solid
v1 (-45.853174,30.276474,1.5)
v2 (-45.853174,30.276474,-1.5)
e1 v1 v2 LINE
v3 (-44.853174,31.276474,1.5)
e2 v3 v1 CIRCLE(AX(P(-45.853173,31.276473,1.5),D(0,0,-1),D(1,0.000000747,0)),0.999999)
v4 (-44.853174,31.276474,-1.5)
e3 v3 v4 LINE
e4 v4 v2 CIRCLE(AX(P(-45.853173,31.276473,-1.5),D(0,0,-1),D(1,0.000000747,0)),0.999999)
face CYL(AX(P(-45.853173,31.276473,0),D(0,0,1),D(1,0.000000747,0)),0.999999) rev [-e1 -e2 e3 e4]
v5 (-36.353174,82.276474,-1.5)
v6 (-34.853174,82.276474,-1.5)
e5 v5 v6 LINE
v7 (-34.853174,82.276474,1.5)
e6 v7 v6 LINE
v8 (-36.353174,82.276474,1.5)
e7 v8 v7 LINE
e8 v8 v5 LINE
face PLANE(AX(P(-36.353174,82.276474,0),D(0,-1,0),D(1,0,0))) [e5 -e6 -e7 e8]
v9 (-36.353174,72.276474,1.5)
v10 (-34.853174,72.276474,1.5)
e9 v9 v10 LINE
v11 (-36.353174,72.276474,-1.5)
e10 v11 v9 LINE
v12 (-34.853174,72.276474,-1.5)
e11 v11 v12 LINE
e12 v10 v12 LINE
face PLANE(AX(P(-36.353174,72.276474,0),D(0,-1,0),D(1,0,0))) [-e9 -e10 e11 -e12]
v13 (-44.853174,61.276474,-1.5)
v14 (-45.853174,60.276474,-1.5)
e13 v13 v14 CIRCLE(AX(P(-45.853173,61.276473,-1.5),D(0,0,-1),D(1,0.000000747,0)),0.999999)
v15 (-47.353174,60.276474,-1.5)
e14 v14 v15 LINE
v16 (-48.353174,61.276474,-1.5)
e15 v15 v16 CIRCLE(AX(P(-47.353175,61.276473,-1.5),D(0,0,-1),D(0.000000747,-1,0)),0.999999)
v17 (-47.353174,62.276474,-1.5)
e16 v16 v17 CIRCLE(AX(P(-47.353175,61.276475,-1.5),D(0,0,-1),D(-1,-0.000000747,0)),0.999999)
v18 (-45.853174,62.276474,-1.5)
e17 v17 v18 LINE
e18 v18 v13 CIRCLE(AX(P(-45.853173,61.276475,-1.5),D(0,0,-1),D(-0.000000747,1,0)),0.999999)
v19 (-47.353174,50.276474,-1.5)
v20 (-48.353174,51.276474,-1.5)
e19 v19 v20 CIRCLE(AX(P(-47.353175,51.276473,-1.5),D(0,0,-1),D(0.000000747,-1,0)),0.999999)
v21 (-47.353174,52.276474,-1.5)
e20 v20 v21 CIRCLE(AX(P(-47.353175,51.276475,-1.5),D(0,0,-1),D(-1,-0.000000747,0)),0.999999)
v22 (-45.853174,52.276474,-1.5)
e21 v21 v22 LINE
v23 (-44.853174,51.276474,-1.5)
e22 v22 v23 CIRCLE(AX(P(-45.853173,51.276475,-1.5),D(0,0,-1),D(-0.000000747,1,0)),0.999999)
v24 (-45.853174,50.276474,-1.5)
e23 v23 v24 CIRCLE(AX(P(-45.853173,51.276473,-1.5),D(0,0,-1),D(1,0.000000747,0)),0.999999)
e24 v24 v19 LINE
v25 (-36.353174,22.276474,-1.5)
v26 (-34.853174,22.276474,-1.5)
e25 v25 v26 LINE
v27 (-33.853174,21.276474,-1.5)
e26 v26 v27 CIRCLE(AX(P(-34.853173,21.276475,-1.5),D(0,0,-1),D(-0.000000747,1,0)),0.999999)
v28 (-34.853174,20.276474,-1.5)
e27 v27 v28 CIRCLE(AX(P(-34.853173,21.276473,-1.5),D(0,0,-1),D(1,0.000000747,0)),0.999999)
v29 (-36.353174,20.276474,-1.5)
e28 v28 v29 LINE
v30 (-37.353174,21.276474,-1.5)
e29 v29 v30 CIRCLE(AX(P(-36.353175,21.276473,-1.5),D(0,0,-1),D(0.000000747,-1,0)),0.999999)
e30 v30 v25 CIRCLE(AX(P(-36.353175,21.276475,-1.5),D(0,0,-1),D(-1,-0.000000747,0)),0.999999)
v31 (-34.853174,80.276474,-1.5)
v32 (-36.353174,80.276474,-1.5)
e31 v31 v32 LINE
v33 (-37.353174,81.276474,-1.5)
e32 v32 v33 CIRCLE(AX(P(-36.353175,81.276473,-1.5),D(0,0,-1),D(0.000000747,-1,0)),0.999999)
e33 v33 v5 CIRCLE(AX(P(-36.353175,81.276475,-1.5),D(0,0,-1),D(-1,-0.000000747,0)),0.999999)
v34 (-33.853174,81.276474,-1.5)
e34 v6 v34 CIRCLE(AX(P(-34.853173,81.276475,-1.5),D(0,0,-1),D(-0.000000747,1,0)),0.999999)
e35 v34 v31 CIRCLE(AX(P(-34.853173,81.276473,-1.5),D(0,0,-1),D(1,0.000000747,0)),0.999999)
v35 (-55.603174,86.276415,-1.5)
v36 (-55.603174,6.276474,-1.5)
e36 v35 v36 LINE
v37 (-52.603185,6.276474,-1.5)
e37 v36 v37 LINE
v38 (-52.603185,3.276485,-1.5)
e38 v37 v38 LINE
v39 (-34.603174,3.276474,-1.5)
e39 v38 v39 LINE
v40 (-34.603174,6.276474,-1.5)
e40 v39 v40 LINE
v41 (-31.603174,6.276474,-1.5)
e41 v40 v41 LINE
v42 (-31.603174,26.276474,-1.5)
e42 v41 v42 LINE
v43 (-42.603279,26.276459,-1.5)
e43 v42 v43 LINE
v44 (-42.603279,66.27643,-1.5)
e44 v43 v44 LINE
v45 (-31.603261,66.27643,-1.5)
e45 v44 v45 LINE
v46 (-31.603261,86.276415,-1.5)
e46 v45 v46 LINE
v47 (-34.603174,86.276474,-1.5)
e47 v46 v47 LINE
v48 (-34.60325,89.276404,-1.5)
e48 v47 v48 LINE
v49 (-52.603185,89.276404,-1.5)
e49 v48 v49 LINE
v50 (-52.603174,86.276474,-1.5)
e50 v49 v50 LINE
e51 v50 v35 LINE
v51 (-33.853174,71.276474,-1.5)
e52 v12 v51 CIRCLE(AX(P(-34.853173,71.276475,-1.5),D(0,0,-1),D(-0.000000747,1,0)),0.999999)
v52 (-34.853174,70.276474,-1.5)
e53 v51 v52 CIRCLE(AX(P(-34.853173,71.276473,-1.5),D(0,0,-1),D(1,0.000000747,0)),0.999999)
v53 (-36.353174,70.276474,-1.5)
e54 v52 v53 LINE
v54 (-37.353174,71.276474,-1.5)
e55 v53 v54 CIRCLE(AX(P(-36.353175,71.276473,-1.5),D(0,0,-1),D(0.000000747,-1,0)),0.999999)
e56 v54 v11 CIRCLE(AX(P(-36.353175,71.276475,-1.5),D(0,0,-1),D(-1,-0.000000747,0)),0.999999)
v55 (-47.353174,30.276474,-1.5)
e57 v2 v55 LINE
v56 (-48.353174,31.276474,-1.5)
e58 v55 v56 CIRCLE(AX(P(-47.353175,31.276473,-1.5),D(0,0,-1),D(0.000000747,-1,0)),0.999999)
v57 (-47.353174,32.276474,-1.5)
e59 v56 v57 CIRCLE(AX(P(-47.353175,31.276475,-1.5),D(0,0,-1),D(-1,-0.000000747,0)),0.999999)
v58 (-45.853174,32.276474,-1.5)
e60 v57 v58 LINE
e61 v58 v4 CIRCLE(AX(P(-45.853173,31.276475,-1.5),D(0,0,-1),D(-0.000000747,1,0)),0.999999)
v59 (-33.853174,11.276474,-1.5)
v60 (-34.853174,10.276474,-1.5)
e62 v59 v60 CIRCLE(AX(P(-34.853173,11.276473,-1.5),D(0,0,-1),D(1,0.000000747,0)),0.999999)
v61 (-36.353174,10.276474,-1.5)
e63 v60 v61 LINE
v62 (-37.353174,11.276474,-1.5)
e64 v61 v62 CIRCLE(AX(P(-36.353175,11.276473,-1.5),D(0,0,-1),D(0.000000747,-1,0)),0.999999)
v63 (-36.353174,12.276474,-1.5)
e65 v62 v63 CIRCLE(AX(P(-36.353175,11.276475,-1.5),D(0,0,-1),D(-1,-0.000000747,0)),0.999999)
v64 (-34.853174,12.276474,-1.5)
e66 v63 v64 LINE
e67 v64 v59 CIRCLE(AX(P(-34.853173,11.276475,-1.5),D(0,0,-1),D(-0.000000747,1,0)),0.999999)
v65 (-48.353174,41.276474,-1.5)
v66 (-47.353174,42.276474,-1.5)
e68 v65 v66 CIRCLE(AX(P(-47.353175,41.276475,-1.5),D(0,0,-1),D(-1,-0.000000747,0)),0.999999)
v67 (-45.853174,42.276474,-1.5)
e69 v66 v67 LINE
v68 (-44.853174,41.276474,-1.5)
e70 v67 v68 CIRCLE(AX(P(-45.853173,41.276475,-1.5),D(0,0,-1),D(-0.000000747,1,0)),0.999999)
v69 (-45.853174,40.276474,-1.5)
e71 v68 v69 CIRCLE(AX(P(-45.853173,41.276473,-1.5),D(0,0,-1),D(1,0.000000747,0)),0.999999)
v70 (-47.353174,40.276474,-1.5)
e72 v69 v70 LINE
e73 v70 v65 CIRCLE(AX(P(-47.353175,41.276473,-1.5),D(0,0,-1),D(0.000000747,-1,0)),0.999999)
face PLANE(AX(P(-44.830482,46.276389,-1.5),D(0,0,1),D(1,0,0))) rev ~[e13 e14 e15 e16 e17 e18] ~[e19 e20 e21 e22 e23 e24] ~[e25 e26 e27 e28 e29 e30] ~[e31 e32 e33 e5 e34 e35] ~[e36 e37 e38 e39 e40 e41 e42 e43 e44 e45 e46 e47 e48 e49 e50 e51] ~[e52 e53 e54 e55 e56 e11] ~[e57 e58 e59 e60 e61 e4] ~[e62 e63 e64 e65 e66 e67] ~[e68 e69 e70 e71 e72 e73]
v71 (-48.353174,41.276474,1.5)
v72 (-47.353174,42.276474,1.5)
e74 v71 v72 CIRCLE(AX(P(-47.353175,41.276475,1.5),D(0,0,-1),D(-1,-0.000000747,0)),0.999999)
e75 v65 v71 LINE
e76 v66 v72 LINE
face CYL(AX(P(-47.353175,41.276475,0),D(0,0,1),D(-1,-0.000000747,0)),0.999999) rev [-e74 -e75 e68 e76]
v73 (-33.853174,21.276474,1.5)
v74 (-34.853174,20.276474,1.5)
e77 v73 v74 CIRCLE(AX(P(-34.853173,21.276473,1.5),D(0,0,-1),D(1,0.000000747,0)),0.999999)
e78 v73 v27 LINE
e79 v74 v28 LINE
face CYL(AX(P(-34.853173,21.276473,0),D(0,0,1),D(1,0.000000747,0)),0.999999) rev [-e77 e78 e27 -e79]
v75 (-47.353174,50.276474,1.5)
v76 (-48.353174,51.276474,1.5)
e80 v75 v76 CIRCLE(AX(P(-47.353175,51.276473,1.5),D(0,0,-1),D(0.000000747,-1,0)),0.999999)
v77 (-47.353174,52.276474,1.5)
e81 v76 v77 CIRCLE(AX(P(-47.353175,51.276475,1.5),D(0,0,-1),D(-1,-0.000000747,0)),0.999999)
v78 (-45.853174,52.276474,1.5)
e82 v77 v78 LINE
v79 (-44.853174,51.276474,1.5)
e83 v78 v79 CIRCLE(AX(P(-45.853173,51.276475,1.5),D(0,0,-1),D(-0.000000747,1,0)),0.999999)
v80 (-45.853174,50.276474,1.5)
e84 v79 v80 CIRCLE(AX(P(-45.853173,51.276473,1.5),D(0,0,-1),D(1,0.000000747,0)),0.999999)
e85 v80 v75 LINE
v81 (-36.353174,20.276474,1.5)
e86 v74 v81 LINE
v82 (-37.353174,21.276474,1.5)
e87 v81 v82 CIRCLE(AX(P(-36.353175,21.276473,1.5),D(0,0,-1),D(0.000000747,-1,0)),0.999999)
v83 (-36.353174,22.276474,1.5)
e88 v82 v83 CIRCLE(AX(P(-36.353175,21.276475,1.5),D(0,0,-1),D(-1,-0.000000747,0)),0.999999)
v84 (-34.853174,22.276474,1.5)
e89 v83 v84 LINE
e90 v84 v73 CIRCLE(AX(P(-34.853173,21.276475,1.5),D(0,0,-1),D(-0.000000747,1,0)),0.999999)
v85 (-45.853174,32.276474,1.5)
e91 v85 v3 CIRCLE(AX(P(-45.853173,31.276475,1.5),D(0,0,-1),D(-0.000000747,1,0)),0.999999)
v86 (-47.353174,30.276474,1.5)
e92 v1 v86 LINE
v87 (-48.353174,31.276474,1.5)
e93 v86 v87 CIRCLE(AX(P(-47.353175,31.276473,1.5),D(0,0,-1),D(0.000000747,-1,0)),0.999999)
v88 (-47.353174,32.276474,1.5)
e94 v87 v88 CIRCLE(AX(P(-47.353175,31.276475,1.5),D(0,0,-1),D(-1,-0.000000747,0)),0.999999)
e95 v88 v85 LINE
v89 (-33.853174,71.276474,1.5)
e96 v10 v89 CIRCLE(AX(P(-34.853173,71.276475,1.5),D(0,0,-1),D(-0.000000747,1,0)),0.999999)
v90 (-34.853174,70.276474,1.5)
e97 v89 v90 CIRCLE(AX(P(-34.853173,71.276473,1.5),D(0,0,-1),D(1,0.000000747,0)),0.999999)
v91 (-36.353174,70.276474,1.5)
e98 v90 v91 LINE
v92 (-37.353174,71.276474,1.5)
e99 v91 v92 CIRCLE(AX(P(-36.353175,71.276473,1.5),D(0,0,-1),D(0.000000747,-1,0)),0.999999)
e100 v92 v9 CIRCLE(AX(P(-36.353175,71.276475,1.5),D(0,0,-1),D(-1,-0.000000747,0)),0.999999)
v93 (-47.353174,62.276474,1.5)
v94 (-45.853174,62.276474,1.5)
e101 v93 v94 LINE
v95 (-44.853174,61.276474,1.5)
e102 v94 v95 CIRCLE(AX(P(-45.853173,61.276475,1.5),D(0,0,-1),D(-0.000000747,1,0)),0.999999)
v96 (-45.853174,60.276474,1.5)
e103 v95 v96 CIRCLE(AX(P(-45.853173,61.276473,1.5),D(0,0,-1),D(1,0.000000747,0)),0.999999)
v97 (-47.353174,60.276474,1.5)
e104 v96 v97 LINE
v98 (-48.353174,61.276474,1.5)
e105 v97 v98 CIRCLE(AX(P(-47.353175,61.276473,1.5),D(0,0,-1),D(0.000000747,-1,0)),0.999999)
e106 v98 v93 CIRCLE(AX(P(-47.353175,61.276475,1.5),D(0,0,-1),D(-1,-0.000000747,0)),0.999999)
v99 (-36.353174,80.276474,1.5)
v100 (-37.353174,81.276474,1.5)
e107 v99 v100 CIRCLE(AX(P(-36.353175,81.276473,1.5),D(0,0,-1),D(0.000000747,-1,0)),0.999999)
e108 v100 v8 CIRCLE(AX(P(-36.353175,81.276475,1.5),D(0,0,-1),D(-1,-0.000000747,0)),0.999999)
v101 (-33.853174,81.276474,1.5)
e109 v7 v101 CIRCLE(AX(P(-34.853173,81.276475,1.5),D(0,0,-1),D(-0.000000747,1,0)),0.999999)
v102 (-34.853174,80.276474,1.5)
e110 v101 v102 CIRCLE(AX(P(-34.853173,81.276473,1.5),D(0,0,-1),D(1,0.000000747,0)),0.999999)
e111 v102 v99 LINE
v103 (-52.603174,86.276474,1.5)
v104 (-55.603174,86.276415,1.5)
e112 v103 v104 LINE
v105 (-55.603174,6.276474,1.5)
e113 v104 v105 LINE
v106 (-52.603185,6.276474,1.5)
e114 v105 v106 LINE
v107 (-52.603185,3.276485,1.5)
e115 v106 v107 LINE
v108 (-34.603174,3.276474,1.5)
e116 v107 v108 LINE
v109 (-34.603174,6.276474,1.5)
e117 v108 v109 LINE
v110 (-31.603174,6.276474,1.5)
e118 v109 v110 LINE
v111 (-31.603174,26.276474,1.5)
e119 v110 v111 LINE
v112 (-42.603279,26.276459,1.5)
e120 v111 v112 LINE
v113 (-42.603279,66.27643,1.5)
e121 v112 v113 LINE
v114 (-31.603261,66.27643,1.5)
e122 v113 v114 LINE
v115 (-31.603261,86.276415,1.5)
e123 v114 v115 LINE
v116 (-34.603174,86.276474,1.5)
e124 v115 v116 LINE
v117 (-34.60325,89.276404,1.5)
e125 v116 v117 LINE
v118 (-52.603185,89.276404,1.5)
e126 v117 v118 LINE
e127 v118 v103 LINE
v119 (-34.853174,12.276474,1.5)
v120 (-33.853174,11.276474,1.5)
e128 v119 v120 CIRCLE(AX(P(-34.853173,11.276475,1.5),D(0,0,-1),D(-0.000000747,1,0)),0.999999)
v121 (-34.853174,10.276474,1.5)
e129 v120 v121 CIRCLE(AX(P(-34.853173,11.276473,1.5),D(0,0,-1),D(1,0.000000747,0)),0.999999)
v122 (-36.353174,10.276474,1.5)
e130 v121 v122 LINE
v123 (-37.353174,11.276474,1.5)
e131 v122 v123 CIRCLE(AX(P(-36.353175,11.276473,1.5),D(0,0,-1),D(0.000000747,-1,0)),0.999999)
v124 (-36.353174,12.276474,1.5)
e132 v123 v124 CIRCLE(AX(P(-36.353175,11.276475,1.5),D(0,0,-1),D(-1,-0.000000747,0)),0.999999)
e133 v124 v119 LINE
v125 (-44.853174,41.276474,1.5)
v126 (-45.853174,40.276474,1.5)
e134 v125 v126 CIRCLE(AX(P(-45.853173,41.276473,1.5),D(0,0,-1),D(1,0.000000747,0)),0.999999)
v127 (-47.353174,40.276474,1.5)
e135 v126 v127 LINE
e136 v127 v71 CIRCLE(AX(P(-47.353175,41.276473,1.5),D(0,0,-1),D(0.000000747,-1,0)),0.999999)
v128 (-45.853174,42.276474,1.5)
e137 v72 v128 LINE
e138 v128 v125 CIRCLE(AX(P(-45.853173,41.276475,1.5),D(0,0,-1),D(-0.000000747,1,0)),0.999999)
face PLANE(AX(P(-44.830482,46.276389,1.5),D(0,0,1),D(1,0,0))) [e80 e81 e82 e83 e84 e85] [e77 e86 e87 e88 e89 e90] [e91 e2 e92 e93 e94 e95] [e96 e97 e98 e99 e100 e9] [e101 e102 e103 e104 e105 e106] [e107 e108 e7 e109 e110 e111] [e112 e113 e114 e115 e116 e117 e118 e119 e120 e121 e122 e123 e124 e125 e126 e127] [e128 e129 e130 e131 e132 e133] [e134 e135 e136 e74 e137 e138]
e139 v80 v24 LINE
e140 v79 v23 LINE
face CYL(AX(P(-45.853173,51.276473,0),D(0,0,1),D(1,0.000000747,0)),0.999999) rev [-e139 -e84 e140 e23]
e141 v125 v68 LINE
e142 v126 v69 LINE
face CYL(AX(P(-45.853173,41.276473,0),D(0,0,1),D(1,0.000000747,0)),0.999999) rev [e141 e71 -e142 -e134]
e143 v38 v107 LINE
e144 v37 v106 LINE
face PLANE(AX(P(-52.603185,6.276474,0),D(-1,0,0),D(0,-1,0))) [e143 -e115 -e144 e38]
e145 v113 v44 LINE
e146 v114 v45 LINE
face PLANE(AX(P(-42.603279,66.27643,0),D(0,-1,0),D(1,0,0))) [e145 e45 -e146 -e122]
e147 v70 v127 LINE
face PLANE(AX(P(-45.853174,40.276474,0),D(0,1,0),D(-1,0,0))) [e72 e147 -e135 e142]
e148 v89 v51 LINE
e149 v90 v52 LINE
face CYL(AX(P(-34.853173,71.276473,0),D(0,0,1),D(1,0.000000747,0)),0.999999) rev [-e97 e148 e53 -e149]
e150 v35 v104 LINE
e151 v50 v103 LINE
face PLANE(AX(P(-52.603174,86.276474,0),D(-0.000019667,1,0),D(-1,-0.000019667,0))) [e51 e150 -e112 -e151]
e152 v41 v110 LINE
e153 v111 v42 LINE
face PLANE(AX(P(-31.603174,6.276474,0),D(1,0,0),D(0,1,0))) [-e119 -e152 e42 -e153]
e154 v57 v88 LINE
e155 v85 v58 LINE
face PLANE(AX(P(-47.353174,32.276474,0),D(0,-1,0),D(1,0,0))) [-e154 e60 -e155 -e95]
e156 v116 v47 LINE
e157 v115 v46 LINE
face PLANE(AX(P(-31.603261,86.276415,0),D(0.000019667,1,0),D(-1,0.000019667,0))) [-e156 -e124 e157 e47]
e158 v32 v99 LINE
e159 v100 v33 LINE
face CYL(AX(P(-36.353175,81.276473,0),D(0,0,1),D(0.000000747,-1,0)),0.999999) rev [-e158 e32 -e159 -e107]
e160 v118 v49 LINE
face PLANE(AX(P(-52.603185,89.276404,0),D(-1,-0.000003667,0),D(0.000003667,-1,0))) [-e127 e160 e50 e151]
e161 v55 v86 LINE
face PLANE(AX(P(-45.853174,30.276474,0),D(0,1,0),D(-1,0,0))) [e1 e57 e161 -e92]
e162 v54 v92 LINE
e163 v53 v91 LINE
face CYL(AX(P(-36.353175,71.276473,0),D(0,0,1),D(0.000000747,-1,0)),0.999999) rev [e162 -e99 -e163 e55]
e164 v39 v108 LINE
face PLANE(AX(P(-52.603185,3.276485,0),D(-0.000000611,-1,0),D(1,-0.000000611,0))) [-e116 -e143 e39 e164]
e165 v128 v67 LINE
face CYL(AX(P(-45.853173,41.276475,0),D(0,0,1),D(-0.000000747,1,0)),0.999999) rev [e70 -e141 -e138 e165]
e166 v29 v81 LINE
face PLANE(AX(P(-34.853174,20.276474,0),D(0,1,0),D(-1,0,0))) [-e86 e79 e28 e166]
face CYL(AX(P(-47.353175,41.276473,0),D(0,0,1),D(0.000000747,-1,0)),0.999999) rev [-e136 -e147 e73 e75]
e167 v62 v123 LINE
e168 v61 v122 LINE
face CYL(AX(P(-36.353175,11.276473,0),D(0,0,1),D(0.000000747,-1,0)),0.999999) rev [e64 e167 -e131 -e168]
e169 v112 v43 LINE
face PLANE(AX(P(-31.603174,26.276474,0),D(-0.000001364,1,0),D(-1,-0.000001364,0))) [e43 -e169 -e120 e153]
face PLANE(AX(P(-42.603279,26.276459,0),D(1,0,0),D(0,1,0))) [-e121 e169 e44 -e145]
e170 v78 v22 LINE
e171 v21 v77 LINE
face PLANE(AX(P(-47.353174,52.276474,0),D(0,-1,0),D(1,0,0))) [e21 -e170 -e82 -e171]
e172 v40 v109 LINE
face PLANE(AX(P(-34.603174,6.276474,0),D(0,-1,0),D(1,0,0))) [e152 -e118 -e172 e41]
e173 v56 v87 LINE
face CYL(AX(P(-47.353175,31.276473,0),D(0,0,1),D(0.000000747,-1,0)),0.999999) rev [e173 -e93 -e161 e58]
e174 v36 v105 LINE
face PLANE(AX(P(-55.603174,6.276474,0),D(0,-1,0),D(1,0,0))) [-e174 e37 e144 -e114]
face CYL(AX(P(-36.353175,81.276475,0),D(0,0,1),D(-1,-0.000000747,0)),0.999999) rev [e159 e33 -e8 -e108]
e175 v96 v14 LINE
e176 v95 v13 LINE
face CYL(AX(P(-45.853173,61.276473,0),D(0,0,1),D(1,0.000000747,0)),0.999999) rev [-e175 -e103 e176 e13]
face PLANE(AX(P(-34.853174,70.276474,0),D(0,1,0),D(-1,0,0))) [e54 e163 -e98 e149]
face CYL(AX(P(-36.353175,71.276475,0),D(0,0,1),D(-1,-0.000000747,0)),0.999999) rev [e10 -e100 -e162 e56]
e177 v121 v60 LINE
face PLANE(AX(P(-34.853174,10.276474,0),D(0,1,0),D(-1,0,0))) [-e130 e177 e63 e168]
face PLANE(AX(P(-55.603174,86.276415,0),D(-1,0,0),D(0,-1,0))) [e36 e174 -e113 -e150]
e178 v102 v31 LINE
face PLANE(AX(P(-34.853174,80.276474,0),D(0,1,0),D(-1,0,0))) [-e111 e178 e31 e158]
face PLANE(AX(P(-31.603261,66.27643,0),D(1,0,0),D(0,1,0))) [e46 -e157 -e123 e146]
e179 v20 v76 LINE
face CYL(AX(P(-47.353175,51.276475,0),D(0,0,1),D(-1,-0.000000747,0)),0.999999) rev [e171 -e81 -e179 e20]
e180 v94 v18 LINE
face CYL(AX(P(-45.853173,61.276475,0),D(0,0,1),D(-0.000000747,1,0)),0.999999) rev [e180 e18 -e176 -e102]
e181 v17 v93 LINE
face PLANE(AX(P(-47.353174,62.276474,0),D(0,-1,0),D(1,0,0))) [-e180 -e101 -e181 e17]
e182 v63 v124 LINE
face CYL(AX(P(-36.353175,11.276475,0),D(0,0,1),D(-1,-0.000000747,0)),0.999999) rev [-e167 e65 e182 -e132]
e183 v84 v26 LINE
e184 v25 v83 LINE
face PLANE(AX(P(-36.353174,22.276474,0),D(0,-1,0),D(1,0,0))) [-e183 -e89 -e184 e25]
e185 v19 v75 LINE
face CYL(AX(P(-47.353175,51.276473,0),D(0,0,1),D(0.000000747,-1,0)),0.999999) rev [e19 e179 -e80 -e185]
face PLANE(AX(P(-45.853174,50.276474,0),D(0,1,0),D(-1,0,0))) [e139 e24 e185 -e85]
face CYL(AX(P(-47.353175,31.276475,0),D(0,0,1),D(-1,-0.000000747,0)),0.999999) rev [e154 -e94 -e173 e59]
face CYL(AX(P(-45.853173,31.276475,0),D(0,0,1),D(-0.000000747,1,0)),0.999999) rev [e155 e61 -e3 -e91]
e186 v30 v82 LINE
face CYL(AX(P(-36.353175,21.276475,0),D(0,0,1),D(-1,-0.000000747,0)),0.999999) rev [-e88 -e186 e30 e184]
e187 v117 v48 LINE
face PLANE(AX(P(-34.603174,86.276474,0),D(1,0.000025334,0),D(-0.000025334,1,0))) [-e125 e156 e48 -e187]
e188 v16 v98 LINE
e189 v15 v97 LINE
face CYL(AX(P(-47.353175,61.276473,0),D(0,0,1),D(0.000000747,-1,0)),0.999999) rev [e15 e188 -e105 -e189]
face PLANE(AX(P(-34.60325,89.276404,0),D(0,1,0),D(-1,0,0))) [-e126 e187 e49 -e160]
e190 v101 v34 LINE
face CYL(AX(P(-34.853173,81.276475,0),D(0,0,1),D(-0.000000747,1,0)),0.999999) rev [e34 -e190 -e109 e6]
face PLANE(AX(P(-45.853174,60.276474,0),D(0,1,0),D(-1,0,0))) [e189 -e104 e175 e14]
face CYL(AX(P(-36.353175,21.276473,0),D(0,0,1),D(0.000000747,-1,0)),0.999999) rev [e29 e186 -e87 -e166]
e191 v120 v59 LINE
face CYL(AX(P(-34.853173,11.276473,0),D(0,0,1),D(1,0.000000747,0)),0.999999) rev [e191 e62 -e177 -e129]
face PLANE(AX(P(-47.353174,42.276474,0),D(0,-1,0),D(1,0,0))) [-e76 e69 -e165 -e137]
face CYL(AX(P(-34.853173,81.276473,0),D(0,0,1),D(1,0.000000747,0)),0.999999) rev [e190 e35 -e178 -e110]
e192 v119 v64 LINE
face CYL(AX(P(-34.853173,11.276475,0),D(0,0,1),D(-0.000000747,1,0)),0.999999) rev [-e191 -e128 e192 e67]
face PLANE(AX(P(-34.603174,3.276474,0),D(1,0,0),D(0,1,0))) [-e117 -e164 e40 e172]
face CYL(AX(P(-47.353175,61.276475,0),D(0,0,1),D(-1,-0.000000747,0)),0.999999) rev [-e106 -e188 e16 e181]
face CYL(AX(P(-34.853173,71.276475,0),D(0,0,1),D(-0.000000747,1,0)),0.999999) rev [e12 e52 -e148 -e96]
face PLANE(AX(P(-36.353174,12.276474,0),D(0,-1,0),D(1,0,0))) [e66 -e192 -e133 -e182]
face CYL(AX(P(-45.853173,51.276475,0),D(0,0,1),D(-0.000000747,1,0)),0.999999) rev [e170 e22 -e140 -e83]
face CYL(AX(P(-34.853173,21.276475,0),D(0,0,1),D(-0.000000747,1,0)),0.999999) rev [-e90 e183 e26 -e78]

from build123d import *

# Parameters (mm, degrees)
F1_DEPTH = 1.5


with BuildPart() as f1:
    # F0 (on Top) → F1 (new body, symmetric)
    with BuildSketch(Plane.XY):
        Polygon((-52.603185, 89.276404), (-52.603174, 86.276474), (-55.603174, 86.276415), (-55.603174, 6.276474), (-52.603185, 6.276474), (-52.603185, 3.276485), (-34.603174, 3.276474), (-34.603174, 6.276474), (-31.603174, 6.276474), (-31.603174, 26.276474), (-42.603279, 26.276459), (-42.603279, 66.27643), (-31.603261, 66.27643), (-31.603261, 86.276415), (-34.603174, 86.276474), (-34.60325, 89.276404), align=None)
        with BuildLine():
            ThreePointArc((-47.353174, 30.276474), (-48.060281, 30.569367), (-48.353174, 31.276474))
            ThreePointArc((-48.353174, 31.276474), (-48.060281, 31.983581), (-47.353174, 32.276474))
            Line((-47.353174, 32.276474), (-45.853174, 32.276474))
            ThreePointArc((-45.853174, 32.276474), (-45.146067, 31.983581), (-44.853174, 31.276474))
            ThreePointArc((-44.853174, 31.276474), (-45.146067, 30.569367), (-45.853174, 30.276474))
            Line((-45.853174, 30.276474), (-47.353174, 30.276474))
        make_face(mode=Mode.SUBTRACT)
        with BuildLine():
            ThreePointArc((-47.353174, 40.276474), (-48.060281, 40.569367), (-48.353174, 41.276474))
            ThreePointArc((-48.353174, 41.276474), (-48.060281, 41.983581), (-47.353174, 42.276474))
            Line((-47.353174, 42.276474), (-45.853174, 42.276474))
            ThreePointArc((-45.853174, 42.276474), (-45.146067, 41.983581), (-44.853174, 41.276474))
            ThreePointArc((-44.853174, 41.276474), (-45.146067, 40.569367), (-45.853174, 40.276474))
            Line((-45.853174, 40.276474), (-47.353174, 40.276474))
        make_face(mode=Mode.SUBTRACT)
        with BuildLine():
            ThreePointArc((-36.353174, 10.276474), (-37.060281, 10.569367), (-37.353174, 11.276474))
            ThreePointArc((-37.353174, 11.276474), (-37.060281, 11.983581), (-36.353174, 12.276474))
            Line((-36.353174, 12.276474), (-34.853174, 12.276474))
            ThreePointArc((-34.853174, 12.276474), (-34.146067, 11.983581), (-33.853174, 11.276474))
            ThreePointArc((-33.853174, 11.276474), (-34.146067, 10.569367), (-34.853174, 10.276474))
            Line((-34.853174, 10.276474), (-36.353174, 10.276474))
        make_face(mode=Mode.SUBTRACT)
        with BuildLine():
            ThreePointArc((-36.353174, 20.276474), (-37.060281, 20.569367), (-37.353174, 21.276474))
            ThreePointArc((-37.353174, 21.276474), (-37.060281, 21.983581), (-36.353174, 22.276474))
            Line((-36.353174, 22.276474), (-34.853174, 22.276474))
            ThreePointArc((-34.853174, 22.276474), (-34.146067, 21.983581), (-33.853174, 21.276474))
            ThreePointArc((-33.853174, 21.276474), (-34.146067, 20.569367), (-34.853174, 20.276474))
            Line((-34.853174, 20.276474), (-36.353174, 20.276474))
        make_face(mode=Mode.SUBTRACT)
        with BuildLine():
            ThreePointArc((-47.353174, 50.276474), (-48.060281, 50.569367), (-48.353174, 51.276474))
            ThreePointArc((-48.353174, 51.276474), (-48.060281, 51.983581), (-47.353174, 52.276474))
            Line((-47.353174, 52.276474), (-45.853174, 52.276474))
            ThreePointArc((-45.853174, 52.276474), (-45.146067, 51.983581), (-44.853174, 51.276474))
            ThreePointArc((-44.853174, 51.276474), (-45.146067, 50.569367), (-45.853174, 50.276474))
            Line((-45.853174, 50.276474), (-47.353174, 50.276474))
        make_face(mode=Mode.SUBTRACT)
        with BuildLine():
            ThreePointArc((-47.353174, 60.276474), (-48.060281, 60.569367), (-48.353174, 61.276474))
            ThreePointArc((-48.353174, 61.276474), (-48.060281, 61.983581), (-47.353174, 62.276474))
            Line((-47.353174, 62.276474), (-45.853174, 62.276474))
            ThreePointArc((-45.853174, 62.276474), (-45.146067, 61.983581), (-44.853174, 61.276474))
            ThreePointArc((-44.853174, 61.276474), (-45.146067, 60.569367), (-45.853174, 60.276474))
            Line((-45.853174, 60.276474), (-47.353174, 60.276474))
        make_face(mode=Mode.SUBTRACT)
        with BuildLine():
            ThreePointArc((-36.353174, 70.276474), (-37.060281, 70.569367), (-37.353174, 71.276474))
            ThreePointArc((-37.353174, 71.276474), (-37.060281, 71.983581), (-36.353174, 72.276474))
            Line((-36.353174, 72.276474), (-34.853174, 72.276474))
            ThreePointArc((-34.853174, 72.276474), (-34.146067, 71.983581), (-33.853174, 71.276474))
            ThreePointArc((-33.853174, 71.276474), (-34.146067, 70.569367), (-34.853174, 70.276474))
            Line((-34.853174, 70.276474), (-36.353174, 70.276474))
        make_face(mode=Mode.SUBTRACT)
        with BuildLine():
            ThreePointArc((-36.353174, 80.276474), (-37.060281, 80.569367), (-37.353174, 81.276474))
            ThreePointArc((-37.353174, 81.276474), (-37.060281, 81.983581), (-36.353174, 82.276474))
            Line((-36.353174, 82.276474), (-34.853174, 82.276474))
            ThreePointArc((-34.853174, 82.276474), (-34.146067, 81.983581), (-33.853174, 81.276474))
            ThreePointArc((-33.853174, 81.276474), (-34.146067, 80.569367), (-34.853174, 80.276474))
            Line((-34.853174, 80.276474), (-36.353174, 80.276474))
        make_face(mode=Mode.SUBTRACT)
    extrude(amount=F1_DEPTH, both=True)


solid = f1.part
